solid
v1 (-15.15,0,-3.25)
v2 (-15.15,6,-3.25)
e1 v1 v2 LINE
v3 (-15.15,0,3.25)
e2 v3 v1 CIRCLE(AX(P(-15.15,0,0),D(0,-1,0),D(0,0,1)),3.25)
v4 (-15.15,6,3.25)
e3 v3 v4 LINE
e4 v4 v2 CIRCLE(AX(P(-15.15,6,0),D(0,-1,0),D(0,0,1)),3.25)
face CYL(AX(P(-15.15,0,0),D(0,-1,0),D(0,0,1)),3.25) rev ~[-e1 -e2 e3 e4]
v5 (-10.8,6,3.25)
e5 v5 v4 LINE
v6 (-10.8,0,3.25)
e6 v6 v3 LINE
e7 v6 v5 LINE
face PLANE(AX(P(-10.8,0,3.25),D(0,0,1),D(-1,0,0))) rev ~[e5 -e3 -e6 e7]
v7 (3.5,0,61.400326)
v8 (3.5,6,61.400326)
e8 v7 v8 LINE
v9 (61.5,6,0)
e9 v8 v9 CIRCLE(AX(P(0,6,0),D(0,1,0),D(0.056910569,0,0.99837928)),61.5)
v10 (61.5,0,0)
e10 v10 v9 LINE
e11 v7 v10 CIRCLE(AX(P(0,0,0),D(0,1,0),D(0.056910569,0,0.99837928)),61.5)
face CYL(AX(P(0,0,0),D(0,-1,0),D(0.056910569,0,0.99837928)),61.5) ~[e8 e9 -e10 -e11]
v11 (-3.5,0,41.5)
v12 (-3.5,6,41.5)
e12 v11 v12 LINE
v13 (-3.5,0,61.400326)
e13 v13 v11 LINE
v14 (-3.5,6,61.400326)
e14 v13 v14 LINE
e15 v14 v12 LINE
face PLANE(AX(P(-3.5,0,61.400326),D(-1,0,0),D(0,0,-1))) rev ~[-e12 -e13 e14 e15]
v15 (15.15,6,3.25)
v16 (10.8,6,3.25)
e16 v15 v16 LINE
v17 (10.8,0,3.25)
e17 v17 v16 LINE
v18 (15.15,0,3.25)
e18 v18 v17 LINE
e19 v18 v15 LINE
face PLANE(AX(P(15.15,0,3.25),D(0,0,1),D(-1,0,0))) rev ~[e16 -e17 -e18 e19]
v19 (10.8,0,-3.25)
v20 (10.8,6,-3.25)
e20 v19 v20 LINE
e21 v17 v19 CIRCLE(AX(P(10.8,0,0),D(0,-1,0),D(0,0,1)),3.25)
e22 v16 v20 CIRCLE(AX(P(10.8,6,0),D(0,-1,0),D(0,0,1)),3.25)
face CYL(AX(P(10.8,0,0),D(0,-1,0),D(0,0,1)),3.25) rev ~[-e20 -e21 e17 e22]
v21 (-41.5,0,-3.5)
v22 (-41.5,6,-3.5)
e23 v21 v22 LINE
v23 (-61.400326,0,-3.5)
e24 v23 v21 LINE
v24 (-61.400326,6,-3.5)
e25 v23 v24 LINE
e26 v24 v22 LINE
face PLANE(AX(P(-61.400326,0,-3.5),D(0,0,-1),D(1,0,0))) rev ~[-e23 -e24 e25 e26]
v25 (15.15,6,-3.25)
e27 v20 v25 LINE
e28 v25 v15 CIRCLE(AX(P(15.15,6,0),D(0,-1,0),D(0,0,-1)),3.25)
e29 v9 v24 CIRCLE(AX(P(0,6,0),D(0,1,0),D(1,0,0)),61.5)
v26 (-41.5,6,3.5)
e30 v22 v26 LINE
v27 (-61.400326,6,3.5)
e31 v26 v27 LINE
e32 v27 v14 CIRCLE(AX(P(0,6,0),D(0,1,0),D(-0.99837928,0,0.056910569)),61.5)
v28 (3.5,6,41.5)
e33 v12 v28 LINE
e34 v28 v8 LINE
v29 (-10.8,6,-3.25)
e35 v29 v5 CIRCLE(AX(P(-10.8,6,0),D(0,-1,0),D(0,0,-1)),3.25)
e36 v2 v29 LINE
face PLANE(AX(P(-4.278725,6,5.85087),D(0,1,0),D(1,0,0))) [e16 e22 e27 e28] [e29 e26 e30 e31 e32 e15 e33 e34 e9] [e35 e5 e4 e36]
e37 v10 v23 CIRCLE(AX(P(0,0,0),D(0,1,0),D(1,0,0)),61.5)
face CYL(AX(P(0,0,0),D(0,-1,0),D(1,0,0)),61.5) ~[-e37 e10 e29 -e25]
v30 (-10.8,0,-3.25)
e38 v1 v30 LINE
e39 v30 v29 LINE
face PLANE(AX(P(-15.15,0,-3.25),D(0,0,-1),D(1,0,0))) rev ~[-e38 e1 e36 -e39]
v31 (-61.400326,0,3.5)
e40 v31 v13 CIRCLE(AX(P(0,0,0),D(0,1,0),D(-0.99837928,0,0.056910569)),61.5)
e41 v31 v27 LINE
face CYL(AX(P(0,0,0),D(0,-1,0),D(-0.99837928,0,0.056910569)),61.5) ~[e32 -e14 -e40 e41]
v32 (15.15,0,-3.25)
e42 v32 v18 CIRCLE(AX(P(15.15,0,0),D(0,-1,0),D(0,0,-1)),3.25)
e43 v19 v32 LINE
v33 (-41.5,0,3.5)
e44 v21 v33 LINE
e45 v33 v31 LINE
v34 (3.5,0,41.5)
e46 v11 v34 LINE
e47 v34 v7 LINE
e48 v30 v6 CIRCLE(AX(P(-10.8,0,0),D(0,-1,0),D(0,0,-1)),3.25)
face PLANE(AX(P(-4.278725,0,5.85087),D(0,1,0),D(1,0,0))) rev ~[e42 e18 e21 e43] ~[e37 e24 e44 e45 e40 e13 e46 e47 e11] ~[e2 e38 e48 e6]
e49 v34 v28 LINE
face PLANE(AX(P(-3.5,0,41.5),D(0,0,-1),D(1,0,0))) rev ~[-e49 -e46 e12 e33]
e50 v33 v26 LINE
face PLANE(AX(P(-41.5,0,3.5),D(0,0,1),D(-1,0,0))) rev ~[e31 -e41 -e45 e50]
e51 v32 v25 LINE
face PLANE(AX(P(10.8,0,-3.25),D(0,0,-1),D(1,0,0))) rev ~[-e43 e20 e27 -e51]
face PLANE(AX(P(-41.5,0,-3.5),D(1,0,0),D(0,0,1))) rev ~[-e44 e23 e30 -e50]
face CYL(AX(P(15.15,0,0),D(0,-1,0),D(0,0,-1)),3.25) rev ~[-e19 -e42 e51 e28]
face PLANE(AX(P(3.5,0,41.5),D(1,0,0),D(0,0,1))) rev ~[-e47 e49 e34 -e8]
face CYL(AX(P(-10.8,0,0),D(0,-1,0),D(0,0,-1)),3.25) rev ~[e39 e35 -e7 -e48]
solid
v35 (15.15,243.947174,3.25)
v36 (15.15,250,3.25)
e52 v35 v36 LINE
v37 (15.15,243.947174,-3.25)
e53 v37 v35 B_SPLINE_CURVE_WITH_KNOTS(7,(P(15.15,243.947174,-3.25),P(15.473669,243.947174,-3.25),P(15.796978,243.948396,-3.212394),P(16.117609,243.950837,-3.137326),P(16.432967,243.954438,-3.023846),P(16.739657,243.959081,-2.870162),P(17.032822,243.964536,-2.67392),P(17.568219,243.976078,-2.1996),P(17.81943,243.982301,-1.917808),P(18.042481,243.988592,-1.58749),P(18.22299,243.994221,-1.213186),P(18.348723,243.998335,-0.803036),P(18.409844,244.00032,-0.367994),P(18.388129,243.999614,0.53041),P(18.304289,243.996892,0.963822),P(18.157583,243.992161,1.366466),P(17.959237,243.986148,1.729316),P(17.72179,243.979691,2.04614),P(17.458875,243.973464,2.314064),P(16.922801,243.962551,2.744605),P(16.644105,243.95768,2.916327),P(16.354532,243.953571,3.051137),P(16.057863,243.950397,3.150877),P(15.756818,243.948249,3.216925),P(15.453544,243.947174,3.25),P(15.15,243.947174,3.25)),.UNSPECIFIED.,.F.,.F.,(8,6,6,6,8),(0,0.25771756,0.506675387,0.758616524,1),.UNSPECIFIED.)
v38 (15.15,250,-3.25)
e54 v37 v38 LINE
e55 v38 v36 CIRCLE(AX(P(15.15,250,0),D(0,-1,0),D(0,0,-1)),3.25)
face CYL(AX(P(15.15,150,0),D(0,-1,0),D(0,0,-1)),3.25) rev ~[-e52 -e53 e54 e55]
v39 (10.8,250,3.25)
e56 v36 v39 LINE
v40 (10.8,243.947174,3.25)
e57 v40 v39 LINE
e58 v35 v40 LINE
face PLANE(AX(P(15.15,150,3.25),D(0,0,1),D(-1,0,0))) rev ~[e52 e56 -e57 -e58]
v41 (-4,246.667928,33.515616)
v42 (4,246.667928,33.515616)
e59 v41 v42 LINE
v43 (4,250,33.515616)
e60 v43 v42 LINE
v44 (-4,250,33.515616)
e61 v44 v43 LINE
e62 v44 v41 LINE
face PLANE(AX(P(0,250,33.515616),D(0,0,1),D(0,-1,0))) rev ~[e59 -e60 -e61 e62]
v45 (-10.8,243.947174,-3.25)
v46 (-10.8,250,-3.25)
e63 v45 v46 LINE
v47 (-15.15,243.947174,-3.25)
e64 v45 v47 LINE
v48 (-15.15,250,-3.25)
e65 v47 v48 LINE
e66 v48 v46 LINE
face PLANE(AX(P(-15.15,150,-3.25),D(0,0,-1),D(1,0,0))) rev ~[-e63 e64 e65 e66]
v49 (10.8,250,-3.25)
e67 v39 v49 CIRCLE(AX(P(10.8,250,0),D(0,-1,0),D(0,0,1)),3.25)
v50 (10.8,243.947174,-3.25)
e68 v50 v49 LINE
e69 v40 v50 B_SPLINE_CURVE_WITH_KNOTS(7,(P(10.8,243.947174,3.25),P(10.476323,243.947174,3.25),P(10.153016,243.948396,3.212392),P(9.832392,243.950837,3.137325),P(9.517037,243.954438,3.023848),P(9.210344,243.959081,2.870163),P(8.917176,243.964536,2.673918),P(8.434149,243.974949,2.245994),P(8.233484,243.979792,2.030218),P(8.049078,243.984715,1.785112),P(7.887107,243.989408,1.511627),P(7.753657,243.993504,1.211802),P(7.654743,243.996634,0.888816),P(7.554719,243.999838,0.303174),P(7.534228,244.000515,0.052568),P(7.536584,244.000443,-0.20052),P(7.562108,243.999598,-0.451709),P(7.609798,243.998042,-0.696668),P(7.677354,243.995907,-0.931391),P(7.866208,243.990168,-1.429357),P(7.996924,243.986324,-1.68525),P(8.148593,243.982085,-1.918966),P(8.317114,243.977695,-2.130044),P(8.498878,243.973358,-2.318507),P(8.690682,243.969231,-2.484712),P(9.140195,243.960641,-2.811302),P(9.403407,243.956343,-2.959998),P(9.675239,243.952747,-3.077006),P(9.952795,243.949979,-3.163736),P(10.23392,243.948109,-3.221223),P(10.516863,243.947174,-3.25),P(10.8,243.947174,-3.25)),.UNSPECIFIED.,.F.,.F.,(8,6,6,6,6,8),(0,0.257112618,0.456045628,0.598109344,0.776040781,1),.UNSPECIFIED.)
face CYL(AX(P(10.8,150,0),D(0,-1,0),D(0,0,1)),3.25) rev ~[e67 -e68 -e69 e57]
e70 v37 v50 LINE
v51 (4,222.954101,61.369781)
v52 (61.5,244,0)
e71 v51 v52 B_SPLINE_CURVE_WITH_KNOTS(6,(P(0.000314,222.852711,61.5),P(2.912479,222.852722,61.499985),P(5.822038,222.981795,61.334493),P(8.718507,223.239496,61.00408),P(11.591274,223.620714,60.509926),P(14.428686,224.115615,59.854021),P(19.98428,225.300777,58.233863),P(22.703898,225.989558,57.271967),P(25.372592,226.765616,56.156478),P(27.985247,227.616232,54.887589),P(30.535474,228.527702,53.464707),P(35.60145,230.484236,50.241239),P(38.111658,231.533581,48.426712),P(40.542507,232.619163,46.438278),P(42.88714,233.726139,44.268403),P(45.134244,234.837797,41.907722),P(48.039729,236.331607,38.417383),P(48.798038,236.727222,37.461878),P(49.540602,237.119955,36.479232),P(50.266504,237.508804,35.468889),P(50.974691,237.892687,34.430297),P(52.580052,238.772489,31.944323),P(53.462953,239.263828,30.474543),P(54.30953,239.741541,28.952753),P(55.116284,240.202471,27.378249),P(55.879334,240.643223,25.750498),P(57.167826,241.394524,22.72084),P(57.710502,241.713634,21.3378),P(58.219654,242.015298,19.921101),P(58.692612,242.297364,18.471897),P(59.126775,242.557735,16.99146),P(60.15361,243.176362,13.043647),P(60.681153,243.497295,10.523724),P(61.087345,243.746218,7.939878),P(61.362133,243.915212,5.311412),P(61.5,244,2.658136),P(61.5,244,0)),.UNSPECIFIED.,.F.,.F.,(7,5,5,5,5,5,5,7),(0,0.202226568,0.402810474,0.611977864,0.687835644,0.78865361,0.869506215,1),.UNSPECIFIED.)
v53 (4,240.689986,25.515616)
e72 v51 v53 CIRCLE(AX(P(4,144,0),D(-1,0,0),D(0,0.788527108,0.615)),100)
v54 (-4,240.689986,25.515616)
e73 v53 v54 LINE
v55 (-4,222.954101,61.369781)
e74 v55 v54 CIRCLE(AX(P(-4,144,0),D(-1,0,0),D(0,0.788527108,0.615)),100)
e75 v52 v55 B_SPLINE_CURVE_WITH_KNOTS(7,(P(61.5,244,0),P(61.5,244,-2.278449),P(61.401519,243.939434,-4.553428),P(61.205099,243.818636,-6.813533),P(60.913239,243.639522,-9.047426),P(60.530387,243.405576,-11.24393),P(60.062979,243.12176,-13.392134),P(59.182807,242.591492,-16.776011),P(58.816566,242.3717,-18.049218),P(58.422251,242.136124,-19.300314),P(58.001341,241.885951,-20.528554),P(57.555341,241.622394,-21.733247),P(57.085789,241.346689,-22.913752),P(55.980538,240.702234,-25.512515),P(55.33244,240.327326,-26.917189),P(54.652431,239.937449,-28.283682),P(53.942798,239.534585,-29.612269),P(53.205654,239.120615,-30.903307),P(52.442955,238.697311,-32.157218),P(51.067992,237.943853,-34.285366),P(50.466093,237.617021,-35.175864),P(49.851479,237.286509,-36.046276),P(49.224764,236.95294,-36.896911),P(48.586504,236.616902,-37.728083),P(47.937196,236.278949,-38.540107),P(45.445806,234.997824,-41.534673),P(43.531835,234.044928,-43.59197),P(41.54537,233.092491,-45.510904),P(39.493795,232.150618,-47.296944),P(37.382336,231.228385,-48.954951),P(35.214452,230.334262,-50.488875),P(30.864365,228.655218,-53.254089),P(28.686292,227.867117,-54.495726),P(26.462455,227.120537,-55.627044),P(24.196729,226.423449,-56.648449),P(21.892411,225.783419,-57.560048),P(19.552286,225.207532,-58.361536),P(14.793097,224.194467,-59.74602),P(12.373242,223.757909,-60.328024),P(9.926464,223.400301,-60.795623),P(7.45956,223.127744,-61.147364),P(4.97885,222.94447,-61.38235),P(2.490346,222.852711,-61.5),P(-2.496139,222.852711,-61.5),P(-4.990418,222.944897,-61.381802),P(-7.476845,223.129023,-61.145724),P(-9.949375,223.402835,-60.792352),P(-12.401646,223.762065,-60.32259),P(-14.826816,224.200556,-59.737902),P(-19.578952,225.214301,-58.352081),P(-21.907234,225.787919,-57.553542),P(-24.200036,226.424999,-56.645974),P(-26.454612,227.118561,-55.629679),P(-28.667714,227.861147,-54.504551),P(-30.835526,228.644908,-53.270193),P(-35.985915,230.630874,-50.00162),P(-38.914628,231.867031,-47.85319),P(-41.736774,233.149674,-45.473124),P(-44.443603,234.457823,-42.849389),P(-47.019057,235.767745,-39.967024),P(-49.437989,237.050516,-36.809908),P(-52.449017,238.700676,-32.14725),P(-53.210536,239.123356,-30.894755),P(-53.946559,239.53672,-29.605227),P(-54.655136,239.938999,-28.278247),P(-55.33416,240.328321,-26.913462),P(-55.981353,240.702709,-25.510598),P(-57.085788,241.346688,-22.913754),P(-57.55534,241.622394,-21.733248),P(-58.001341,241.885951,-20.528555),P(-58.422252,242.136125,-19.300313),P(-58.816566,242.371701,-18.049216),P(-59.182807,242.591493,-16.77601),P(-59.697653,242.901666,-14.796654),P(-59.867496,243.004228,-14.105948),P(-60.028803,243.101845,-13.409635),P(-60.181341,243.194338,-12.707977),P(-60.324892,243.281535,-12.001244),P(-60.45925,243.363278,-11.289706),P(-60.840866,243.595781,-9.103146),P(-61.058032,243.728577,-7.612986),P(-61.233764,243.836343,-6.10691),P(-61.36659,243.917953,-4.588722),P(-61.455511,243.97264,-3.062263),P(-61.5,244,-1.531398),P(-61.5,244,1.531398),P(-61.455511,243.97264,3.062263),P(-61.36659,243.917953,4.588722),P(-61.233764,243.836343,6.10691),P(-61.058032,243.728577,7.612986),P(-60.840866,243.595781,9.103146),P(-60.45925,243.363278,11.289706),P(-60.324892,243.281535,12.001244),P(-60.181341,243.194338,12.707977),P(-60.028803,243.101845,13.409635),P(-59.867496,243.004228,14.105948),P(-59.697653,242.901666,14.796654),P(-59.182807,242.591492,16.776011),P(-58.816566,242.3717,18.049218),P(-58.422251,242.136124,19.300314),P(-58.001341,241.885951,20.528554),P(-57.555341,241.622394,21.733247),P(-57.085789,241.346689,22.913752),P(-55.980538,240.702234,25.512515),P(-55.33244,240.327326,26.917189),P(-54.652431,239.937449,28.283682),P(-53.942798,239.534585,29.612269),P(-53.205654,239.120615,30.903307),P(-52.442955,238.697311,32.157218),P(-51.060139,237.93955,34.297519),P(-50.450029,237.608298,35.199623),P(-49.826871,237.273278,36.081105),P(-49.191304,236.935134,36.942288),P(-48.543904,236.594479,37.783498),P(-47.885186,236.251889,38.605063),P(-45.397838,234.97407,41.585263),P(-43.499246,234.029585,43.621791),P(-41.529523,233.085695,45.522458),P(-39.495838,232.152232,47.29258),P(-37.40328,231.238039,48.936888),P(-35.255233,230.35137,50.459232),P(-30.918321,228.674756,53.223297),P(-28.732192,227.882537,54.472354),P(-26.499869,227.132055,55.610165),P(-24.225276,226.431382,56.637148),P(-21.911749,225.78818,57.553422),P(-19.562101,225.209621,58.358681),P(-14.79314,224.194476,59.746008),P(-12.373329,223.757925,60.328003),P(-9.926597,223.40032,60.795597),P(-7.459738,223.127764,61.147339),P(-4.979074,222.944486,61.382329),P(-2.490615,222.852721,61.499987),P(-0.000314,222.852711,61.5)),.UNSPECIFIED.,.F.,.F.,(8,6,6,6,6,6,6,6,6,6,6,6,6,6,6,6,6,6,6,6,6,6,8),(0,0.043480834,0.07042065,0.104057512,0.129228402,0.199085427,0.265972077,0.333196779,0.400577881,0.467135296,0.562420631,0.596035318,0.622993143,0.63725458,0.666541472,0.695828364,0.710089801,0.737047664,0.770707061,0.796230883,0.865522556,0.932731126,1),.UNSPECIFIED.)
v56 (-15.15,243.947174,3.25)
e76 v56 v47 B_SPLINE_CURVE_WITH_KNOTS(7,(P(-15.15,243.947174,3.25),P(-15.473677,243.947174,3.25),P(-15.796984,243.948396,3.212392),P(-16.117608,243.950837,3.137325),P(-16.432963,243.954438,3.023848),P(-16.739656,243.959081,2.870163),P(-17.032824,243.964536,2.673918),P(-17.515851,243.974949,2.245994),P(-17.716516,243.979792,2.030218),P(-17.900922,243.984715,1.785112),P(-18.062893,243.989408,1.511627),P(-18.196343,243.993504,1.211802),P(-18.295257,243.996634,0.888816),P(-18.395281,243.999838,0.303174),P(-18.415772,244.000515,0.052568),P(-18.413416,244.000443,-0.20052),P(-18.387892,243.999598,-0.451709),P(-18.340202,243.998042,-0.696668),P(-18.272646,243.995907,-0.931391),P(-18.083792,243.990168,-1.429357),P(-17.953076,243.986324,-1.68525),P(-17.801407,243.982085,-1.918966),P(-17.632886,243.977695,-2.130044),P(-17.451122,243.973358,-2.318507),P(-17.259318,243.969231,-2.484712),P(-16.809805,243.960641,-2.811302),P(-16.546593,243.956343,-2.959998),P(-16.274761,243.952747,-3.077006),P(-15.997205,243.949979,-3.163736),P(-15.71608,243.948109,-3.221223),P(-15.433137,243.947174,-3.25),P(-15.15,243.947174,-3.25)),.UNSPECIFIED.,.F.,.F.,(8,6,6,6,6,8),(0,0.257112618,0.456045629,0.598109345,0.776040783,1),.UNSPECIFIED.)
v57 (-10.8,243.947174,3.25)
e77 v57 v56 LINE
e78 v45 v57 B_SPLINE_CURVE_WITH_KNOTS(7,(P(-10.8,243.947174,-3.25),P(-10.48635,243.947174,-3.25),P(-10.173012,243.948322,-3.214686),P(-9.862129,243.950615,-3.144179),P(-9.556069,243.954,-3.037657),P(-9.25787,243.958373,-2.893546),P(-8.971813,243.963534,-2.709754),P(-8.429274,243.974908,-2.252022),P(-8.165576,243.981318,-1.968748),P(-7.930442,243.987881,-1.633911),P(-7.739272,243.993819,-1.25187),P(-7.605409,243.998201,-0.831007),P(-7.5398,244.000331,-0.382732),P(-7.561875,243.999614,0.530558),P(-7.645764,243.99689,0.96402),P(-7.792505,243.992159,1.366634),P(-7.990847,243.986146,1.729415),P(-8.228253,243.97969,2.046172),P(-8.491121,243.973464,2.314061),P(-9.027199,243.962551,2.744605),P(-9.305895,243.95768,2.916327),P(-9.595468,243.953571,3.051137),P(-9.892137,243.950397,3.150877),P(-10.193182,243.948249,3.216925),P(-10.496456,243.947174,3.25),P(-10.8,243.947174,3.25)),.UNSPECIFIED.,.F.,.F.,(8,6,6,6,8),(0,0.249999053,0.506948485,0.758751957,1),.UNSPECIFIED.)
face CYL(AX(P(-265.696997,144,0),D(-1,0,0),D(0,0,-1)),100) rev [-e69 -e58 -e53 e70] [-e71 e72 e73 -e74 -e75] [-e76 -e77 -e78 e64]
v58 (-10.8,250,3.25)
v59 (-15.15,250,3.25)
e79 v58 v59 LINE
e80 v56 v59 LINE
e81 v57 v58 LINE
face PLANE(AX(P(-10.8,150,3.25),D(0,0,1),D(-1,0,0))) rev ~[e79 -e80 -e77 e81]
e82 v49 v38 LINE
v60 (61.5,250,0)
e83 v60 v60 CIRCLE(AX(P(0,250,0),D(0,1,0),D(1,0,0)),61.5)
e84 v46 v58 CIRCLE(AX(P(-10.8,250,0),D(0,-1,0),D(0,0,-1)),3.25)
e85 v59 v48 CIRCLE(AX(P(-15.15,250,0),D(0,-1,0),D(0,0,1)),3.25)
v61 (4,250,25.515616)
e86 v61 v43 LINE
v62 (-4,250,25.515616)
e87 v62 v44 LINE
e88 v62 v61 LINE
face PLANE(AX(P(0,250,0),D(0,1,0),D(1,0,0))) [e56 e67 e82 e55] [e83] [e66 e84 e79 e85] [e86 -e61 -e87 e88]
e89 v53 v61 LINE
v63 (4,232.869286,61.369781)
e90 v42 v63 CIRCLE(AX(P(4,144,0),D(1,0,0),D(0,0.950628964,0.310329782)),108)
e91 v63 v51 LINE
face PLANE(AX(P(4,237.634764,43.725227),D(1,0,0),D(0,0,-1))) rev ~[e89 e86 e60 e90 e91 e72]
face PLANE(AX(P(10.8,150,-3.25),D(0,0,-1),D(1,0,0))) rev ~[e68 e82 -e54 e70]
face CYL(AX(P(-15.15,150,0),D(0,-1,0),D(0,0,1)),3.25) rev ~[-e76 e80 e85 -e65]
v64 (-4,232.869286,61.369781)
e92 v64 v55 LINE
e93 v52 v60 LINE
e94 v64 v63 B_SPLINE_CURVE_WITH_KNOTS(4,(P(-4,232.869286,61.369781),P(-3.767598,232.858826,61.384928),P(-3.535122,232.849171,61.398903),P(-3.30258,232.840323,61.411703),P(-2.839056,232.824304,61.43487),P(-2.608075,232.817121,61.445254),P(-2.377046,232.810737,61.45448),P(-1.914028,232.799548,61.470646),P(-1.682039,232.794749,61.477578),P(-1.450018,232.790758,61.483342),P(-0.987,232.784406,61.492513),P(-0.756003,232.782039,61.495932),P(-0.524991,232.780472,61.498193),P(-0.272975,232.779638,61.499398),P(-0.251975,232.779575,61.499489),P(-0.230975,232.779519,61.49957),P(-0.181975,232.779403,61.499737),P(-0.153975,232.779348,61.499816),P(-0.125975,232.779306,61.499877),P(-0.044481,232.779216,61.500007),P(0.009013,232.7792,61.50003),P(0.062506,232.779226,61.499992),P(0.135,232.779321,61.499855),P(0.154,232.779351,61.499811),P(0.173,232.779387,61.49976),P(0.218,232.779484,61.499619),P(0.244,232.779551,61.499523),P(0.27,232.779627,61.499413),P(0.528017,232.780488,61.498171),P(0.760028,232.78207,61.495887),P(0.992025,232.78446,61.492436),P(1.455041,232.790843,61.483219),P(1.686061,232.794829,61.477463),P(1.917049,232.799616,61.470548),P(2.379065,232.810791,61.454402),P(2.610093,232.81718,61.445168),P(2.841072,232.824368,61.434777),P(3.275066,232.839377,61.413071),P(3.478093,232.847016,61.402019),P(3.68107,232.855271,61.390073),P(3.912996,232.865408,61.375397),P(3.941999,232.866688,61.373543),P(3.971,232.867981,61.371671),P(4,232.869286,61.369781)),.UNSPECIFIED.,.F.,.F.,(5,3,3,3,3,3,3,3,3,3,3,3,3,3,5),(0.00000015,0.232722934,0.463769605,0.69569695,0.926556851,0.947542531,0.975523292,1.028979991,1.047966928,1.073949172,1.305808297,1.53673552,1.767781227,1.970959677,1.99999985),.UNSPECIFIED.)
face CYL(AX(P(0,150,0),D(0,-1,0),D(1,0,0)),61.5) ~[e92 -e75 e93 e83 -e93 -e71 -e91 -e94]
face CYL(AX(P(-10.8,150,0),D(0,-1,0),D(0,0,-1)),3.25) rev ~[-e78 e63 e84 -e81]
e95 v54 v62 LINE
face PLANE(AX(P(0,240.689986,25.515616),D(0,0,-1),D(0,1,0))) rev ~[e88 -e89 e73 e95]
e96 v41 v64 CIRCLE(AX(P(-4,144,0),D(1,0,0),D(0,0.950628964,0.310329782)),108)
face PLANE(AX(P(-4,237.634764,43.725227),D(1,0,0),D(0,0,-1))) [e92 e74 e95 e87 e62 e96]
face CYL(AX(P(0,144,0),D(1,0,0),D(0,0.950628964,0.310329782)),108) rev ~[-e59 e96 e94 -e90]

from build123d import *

# Parameters (mm, degrees)
EXTRUDE_1_DEPTH          = 6
EXTRUDE_START            = 150
SKETCH_1_3_R             = 61.5
EXTRUDE_2_DEPTH          = 100
CUT_EXTRUDE_1_DEPTH      = 265.696996583
CUT_EXTRUDE_1_DEPTH_BACK = 265.696996583
CUT_EXTRUDE_2_DEPTH      = 4


with BuildPart() as part:
    # Эскиз1 → Бобышка-Вытянуть1 (new body)
    with BuildSketch(Plane(origin=(0, 0, 0), x_dir=(1, 0, 0), z_dir=(0, 1, 0))):
        with BuildLine():
            ThreePointArc((-61.400325732, -3.5), (-43.487067043, -43.487067043), (-3.5, -61.400325732))
            Line((-3.5, -61.400325732), (-3.5, -41.5))
            Line((-3.5, -41.5), (3.5, -41.5))
            Line((3.5, -41.5), (3.5, -61.400325732))
            ThreePointArc((3.5, -61.400325732), (44.707381941, -42.231504828), (61.5, 0))
            ThreePointArc((61.5, 0), (1.750709496, 61.475076383), (-61.400325732, 3.5))
            Line((-61.400325732, 3.5), (-41.5, 3.5))
            Line((-41.5, 3.5), (-41.5, -3.5))
            Line((-41.5, -3.5), (-61.400325732, -3.5))
        make_face()
        with BuildLine():
            ThreePointArc((-15.15, -3.25), (-18.4, 0), (-15.15, 3.25))
            Line((-15.15, 3.25), (-10.8, 3.25))
            ThreePointArc((-10.8, 3.25), (-7.55, 0), (-10.8, -3.25))
            Line((-10.8, -3.25), (-15.15, -3.25))
        make_face(mode=Mode.SUBTRACT)
        with BuildLine():
            Line((10.8, 3.25), (15.15, 3.25))
            ThreePointArc((15.15, 3.25), (18.4, 0), (15.15, -3.25))
            Line((15.15, -3.25), (10.8, -3.25))
            ThreePointArc((10.8, -3.25), (7.55, 0), (10.8, 3.25))
        make_face(mode=Mode.SUBTRACT)
    extrude(amount=EXTRUDE_1_DEPTH)


with BuildPart() as body_2:
    # Эскиз1<3> → Бобышка-Вытянуть2 (new body)
    with BuildSketch(Plane(origin=(0, 0, 0), x_dir=(1, 0, 0), z_dir=(0, 1, 0)).offset(EXTRUDE_START)):
        Circle(SKETCH_1_3_R)
        with BuildLine():
            ThreePointArc((-15.15, -3.25), (-18.4, 0), (-15.15, 3.25))
            Line((-15.15, 3.25), (-10.8, 3.25))
            ThreePointArc((-10.8, 3.25), (-7.55, 0), (-10.8, -3.25))
            Line((-10.8, -3.25), (-15.15, -3.25))
        make_face(mode=Mode.SUBTRACT)
        with BuildLine():
            Line((10.8, 3.25), (15.15, 3.25))
            ThreePointArc((15.15, 3.25), (18.4, 0), (15.15, -3.25))
            Line((15.15, -3.25), (10.8, -3.25))
            ThreePointArc((10.8, -3.25), (7.55, 0), (10.8, 3.25))
        make_face(mode=Mode.SUBTRACT)
    extrude(amount=EXTRUDE_2_DEPTH)

    # Эскиз3 → Вырез-Вытянуть1 (cut, two sides: drawn at the far end of the back side and taken through both)
    with BuildSketch(Plane(origin=(0, 0, 0), x_dir=(0, 0, -1), z_dir=(1, 0, 0)).offset(-CUT_EXTRUDE_1_DEPTH_BACK)):
        with BuildLine():
            ThreePointArc((100, 144), (61.026381005, 223.219825936), (-25.515616428, 240.689985615))
            ThreePointArc((-25.515616428, 240.689985615), (-44.412514777, 233.596476109), (-61.5, 222.852710797))
            ThreePointArc((-61.5, 222.852710797), (-43.874821937, 54.138996222), (100, 144))
        make_face()
    extrude(amount=CUT_EXTRUDE_1_DEPTH + CUT_EXTRUDE_1_DEPTH_BACK, mode=Mode.SUBTRACT)

    # Эскиз3<3> → Вырез-Вытянуть2 (cut, symmetric)
    with BuildSketch(Plane(origin=(0, 0, 0), x_dir=(0, 0, -1), z_dir=(1, 0, 0))):
        with BuildLine():
            Line((-25.515616428, 240.689985615), (-25.515616428, 250))
            Line((-25.515616428, 250), (-33.515616428, 250))
            Line((-33.515616428, 250), (-33.515616428, 246.667928076))
            ThreePointArc((-33.515616428, 246.667928076), (-48.012663856, 240.740808915), (-61.5, 232.779220542))
            Line((-61.5, 232.779220542), (-61.5, 222.852710797))
            ThreePointArc((-61.5, 222.852710797), (-44.412514777, 233.596476109), (-25.515616428, 240.689985615))
        make_face()
    extrude(amount=CUT_EXTRUDE_2_DEPTH, both=True, mode=Mode.SUBTRACT)


solid = Compound([part.part, body_2.part])
